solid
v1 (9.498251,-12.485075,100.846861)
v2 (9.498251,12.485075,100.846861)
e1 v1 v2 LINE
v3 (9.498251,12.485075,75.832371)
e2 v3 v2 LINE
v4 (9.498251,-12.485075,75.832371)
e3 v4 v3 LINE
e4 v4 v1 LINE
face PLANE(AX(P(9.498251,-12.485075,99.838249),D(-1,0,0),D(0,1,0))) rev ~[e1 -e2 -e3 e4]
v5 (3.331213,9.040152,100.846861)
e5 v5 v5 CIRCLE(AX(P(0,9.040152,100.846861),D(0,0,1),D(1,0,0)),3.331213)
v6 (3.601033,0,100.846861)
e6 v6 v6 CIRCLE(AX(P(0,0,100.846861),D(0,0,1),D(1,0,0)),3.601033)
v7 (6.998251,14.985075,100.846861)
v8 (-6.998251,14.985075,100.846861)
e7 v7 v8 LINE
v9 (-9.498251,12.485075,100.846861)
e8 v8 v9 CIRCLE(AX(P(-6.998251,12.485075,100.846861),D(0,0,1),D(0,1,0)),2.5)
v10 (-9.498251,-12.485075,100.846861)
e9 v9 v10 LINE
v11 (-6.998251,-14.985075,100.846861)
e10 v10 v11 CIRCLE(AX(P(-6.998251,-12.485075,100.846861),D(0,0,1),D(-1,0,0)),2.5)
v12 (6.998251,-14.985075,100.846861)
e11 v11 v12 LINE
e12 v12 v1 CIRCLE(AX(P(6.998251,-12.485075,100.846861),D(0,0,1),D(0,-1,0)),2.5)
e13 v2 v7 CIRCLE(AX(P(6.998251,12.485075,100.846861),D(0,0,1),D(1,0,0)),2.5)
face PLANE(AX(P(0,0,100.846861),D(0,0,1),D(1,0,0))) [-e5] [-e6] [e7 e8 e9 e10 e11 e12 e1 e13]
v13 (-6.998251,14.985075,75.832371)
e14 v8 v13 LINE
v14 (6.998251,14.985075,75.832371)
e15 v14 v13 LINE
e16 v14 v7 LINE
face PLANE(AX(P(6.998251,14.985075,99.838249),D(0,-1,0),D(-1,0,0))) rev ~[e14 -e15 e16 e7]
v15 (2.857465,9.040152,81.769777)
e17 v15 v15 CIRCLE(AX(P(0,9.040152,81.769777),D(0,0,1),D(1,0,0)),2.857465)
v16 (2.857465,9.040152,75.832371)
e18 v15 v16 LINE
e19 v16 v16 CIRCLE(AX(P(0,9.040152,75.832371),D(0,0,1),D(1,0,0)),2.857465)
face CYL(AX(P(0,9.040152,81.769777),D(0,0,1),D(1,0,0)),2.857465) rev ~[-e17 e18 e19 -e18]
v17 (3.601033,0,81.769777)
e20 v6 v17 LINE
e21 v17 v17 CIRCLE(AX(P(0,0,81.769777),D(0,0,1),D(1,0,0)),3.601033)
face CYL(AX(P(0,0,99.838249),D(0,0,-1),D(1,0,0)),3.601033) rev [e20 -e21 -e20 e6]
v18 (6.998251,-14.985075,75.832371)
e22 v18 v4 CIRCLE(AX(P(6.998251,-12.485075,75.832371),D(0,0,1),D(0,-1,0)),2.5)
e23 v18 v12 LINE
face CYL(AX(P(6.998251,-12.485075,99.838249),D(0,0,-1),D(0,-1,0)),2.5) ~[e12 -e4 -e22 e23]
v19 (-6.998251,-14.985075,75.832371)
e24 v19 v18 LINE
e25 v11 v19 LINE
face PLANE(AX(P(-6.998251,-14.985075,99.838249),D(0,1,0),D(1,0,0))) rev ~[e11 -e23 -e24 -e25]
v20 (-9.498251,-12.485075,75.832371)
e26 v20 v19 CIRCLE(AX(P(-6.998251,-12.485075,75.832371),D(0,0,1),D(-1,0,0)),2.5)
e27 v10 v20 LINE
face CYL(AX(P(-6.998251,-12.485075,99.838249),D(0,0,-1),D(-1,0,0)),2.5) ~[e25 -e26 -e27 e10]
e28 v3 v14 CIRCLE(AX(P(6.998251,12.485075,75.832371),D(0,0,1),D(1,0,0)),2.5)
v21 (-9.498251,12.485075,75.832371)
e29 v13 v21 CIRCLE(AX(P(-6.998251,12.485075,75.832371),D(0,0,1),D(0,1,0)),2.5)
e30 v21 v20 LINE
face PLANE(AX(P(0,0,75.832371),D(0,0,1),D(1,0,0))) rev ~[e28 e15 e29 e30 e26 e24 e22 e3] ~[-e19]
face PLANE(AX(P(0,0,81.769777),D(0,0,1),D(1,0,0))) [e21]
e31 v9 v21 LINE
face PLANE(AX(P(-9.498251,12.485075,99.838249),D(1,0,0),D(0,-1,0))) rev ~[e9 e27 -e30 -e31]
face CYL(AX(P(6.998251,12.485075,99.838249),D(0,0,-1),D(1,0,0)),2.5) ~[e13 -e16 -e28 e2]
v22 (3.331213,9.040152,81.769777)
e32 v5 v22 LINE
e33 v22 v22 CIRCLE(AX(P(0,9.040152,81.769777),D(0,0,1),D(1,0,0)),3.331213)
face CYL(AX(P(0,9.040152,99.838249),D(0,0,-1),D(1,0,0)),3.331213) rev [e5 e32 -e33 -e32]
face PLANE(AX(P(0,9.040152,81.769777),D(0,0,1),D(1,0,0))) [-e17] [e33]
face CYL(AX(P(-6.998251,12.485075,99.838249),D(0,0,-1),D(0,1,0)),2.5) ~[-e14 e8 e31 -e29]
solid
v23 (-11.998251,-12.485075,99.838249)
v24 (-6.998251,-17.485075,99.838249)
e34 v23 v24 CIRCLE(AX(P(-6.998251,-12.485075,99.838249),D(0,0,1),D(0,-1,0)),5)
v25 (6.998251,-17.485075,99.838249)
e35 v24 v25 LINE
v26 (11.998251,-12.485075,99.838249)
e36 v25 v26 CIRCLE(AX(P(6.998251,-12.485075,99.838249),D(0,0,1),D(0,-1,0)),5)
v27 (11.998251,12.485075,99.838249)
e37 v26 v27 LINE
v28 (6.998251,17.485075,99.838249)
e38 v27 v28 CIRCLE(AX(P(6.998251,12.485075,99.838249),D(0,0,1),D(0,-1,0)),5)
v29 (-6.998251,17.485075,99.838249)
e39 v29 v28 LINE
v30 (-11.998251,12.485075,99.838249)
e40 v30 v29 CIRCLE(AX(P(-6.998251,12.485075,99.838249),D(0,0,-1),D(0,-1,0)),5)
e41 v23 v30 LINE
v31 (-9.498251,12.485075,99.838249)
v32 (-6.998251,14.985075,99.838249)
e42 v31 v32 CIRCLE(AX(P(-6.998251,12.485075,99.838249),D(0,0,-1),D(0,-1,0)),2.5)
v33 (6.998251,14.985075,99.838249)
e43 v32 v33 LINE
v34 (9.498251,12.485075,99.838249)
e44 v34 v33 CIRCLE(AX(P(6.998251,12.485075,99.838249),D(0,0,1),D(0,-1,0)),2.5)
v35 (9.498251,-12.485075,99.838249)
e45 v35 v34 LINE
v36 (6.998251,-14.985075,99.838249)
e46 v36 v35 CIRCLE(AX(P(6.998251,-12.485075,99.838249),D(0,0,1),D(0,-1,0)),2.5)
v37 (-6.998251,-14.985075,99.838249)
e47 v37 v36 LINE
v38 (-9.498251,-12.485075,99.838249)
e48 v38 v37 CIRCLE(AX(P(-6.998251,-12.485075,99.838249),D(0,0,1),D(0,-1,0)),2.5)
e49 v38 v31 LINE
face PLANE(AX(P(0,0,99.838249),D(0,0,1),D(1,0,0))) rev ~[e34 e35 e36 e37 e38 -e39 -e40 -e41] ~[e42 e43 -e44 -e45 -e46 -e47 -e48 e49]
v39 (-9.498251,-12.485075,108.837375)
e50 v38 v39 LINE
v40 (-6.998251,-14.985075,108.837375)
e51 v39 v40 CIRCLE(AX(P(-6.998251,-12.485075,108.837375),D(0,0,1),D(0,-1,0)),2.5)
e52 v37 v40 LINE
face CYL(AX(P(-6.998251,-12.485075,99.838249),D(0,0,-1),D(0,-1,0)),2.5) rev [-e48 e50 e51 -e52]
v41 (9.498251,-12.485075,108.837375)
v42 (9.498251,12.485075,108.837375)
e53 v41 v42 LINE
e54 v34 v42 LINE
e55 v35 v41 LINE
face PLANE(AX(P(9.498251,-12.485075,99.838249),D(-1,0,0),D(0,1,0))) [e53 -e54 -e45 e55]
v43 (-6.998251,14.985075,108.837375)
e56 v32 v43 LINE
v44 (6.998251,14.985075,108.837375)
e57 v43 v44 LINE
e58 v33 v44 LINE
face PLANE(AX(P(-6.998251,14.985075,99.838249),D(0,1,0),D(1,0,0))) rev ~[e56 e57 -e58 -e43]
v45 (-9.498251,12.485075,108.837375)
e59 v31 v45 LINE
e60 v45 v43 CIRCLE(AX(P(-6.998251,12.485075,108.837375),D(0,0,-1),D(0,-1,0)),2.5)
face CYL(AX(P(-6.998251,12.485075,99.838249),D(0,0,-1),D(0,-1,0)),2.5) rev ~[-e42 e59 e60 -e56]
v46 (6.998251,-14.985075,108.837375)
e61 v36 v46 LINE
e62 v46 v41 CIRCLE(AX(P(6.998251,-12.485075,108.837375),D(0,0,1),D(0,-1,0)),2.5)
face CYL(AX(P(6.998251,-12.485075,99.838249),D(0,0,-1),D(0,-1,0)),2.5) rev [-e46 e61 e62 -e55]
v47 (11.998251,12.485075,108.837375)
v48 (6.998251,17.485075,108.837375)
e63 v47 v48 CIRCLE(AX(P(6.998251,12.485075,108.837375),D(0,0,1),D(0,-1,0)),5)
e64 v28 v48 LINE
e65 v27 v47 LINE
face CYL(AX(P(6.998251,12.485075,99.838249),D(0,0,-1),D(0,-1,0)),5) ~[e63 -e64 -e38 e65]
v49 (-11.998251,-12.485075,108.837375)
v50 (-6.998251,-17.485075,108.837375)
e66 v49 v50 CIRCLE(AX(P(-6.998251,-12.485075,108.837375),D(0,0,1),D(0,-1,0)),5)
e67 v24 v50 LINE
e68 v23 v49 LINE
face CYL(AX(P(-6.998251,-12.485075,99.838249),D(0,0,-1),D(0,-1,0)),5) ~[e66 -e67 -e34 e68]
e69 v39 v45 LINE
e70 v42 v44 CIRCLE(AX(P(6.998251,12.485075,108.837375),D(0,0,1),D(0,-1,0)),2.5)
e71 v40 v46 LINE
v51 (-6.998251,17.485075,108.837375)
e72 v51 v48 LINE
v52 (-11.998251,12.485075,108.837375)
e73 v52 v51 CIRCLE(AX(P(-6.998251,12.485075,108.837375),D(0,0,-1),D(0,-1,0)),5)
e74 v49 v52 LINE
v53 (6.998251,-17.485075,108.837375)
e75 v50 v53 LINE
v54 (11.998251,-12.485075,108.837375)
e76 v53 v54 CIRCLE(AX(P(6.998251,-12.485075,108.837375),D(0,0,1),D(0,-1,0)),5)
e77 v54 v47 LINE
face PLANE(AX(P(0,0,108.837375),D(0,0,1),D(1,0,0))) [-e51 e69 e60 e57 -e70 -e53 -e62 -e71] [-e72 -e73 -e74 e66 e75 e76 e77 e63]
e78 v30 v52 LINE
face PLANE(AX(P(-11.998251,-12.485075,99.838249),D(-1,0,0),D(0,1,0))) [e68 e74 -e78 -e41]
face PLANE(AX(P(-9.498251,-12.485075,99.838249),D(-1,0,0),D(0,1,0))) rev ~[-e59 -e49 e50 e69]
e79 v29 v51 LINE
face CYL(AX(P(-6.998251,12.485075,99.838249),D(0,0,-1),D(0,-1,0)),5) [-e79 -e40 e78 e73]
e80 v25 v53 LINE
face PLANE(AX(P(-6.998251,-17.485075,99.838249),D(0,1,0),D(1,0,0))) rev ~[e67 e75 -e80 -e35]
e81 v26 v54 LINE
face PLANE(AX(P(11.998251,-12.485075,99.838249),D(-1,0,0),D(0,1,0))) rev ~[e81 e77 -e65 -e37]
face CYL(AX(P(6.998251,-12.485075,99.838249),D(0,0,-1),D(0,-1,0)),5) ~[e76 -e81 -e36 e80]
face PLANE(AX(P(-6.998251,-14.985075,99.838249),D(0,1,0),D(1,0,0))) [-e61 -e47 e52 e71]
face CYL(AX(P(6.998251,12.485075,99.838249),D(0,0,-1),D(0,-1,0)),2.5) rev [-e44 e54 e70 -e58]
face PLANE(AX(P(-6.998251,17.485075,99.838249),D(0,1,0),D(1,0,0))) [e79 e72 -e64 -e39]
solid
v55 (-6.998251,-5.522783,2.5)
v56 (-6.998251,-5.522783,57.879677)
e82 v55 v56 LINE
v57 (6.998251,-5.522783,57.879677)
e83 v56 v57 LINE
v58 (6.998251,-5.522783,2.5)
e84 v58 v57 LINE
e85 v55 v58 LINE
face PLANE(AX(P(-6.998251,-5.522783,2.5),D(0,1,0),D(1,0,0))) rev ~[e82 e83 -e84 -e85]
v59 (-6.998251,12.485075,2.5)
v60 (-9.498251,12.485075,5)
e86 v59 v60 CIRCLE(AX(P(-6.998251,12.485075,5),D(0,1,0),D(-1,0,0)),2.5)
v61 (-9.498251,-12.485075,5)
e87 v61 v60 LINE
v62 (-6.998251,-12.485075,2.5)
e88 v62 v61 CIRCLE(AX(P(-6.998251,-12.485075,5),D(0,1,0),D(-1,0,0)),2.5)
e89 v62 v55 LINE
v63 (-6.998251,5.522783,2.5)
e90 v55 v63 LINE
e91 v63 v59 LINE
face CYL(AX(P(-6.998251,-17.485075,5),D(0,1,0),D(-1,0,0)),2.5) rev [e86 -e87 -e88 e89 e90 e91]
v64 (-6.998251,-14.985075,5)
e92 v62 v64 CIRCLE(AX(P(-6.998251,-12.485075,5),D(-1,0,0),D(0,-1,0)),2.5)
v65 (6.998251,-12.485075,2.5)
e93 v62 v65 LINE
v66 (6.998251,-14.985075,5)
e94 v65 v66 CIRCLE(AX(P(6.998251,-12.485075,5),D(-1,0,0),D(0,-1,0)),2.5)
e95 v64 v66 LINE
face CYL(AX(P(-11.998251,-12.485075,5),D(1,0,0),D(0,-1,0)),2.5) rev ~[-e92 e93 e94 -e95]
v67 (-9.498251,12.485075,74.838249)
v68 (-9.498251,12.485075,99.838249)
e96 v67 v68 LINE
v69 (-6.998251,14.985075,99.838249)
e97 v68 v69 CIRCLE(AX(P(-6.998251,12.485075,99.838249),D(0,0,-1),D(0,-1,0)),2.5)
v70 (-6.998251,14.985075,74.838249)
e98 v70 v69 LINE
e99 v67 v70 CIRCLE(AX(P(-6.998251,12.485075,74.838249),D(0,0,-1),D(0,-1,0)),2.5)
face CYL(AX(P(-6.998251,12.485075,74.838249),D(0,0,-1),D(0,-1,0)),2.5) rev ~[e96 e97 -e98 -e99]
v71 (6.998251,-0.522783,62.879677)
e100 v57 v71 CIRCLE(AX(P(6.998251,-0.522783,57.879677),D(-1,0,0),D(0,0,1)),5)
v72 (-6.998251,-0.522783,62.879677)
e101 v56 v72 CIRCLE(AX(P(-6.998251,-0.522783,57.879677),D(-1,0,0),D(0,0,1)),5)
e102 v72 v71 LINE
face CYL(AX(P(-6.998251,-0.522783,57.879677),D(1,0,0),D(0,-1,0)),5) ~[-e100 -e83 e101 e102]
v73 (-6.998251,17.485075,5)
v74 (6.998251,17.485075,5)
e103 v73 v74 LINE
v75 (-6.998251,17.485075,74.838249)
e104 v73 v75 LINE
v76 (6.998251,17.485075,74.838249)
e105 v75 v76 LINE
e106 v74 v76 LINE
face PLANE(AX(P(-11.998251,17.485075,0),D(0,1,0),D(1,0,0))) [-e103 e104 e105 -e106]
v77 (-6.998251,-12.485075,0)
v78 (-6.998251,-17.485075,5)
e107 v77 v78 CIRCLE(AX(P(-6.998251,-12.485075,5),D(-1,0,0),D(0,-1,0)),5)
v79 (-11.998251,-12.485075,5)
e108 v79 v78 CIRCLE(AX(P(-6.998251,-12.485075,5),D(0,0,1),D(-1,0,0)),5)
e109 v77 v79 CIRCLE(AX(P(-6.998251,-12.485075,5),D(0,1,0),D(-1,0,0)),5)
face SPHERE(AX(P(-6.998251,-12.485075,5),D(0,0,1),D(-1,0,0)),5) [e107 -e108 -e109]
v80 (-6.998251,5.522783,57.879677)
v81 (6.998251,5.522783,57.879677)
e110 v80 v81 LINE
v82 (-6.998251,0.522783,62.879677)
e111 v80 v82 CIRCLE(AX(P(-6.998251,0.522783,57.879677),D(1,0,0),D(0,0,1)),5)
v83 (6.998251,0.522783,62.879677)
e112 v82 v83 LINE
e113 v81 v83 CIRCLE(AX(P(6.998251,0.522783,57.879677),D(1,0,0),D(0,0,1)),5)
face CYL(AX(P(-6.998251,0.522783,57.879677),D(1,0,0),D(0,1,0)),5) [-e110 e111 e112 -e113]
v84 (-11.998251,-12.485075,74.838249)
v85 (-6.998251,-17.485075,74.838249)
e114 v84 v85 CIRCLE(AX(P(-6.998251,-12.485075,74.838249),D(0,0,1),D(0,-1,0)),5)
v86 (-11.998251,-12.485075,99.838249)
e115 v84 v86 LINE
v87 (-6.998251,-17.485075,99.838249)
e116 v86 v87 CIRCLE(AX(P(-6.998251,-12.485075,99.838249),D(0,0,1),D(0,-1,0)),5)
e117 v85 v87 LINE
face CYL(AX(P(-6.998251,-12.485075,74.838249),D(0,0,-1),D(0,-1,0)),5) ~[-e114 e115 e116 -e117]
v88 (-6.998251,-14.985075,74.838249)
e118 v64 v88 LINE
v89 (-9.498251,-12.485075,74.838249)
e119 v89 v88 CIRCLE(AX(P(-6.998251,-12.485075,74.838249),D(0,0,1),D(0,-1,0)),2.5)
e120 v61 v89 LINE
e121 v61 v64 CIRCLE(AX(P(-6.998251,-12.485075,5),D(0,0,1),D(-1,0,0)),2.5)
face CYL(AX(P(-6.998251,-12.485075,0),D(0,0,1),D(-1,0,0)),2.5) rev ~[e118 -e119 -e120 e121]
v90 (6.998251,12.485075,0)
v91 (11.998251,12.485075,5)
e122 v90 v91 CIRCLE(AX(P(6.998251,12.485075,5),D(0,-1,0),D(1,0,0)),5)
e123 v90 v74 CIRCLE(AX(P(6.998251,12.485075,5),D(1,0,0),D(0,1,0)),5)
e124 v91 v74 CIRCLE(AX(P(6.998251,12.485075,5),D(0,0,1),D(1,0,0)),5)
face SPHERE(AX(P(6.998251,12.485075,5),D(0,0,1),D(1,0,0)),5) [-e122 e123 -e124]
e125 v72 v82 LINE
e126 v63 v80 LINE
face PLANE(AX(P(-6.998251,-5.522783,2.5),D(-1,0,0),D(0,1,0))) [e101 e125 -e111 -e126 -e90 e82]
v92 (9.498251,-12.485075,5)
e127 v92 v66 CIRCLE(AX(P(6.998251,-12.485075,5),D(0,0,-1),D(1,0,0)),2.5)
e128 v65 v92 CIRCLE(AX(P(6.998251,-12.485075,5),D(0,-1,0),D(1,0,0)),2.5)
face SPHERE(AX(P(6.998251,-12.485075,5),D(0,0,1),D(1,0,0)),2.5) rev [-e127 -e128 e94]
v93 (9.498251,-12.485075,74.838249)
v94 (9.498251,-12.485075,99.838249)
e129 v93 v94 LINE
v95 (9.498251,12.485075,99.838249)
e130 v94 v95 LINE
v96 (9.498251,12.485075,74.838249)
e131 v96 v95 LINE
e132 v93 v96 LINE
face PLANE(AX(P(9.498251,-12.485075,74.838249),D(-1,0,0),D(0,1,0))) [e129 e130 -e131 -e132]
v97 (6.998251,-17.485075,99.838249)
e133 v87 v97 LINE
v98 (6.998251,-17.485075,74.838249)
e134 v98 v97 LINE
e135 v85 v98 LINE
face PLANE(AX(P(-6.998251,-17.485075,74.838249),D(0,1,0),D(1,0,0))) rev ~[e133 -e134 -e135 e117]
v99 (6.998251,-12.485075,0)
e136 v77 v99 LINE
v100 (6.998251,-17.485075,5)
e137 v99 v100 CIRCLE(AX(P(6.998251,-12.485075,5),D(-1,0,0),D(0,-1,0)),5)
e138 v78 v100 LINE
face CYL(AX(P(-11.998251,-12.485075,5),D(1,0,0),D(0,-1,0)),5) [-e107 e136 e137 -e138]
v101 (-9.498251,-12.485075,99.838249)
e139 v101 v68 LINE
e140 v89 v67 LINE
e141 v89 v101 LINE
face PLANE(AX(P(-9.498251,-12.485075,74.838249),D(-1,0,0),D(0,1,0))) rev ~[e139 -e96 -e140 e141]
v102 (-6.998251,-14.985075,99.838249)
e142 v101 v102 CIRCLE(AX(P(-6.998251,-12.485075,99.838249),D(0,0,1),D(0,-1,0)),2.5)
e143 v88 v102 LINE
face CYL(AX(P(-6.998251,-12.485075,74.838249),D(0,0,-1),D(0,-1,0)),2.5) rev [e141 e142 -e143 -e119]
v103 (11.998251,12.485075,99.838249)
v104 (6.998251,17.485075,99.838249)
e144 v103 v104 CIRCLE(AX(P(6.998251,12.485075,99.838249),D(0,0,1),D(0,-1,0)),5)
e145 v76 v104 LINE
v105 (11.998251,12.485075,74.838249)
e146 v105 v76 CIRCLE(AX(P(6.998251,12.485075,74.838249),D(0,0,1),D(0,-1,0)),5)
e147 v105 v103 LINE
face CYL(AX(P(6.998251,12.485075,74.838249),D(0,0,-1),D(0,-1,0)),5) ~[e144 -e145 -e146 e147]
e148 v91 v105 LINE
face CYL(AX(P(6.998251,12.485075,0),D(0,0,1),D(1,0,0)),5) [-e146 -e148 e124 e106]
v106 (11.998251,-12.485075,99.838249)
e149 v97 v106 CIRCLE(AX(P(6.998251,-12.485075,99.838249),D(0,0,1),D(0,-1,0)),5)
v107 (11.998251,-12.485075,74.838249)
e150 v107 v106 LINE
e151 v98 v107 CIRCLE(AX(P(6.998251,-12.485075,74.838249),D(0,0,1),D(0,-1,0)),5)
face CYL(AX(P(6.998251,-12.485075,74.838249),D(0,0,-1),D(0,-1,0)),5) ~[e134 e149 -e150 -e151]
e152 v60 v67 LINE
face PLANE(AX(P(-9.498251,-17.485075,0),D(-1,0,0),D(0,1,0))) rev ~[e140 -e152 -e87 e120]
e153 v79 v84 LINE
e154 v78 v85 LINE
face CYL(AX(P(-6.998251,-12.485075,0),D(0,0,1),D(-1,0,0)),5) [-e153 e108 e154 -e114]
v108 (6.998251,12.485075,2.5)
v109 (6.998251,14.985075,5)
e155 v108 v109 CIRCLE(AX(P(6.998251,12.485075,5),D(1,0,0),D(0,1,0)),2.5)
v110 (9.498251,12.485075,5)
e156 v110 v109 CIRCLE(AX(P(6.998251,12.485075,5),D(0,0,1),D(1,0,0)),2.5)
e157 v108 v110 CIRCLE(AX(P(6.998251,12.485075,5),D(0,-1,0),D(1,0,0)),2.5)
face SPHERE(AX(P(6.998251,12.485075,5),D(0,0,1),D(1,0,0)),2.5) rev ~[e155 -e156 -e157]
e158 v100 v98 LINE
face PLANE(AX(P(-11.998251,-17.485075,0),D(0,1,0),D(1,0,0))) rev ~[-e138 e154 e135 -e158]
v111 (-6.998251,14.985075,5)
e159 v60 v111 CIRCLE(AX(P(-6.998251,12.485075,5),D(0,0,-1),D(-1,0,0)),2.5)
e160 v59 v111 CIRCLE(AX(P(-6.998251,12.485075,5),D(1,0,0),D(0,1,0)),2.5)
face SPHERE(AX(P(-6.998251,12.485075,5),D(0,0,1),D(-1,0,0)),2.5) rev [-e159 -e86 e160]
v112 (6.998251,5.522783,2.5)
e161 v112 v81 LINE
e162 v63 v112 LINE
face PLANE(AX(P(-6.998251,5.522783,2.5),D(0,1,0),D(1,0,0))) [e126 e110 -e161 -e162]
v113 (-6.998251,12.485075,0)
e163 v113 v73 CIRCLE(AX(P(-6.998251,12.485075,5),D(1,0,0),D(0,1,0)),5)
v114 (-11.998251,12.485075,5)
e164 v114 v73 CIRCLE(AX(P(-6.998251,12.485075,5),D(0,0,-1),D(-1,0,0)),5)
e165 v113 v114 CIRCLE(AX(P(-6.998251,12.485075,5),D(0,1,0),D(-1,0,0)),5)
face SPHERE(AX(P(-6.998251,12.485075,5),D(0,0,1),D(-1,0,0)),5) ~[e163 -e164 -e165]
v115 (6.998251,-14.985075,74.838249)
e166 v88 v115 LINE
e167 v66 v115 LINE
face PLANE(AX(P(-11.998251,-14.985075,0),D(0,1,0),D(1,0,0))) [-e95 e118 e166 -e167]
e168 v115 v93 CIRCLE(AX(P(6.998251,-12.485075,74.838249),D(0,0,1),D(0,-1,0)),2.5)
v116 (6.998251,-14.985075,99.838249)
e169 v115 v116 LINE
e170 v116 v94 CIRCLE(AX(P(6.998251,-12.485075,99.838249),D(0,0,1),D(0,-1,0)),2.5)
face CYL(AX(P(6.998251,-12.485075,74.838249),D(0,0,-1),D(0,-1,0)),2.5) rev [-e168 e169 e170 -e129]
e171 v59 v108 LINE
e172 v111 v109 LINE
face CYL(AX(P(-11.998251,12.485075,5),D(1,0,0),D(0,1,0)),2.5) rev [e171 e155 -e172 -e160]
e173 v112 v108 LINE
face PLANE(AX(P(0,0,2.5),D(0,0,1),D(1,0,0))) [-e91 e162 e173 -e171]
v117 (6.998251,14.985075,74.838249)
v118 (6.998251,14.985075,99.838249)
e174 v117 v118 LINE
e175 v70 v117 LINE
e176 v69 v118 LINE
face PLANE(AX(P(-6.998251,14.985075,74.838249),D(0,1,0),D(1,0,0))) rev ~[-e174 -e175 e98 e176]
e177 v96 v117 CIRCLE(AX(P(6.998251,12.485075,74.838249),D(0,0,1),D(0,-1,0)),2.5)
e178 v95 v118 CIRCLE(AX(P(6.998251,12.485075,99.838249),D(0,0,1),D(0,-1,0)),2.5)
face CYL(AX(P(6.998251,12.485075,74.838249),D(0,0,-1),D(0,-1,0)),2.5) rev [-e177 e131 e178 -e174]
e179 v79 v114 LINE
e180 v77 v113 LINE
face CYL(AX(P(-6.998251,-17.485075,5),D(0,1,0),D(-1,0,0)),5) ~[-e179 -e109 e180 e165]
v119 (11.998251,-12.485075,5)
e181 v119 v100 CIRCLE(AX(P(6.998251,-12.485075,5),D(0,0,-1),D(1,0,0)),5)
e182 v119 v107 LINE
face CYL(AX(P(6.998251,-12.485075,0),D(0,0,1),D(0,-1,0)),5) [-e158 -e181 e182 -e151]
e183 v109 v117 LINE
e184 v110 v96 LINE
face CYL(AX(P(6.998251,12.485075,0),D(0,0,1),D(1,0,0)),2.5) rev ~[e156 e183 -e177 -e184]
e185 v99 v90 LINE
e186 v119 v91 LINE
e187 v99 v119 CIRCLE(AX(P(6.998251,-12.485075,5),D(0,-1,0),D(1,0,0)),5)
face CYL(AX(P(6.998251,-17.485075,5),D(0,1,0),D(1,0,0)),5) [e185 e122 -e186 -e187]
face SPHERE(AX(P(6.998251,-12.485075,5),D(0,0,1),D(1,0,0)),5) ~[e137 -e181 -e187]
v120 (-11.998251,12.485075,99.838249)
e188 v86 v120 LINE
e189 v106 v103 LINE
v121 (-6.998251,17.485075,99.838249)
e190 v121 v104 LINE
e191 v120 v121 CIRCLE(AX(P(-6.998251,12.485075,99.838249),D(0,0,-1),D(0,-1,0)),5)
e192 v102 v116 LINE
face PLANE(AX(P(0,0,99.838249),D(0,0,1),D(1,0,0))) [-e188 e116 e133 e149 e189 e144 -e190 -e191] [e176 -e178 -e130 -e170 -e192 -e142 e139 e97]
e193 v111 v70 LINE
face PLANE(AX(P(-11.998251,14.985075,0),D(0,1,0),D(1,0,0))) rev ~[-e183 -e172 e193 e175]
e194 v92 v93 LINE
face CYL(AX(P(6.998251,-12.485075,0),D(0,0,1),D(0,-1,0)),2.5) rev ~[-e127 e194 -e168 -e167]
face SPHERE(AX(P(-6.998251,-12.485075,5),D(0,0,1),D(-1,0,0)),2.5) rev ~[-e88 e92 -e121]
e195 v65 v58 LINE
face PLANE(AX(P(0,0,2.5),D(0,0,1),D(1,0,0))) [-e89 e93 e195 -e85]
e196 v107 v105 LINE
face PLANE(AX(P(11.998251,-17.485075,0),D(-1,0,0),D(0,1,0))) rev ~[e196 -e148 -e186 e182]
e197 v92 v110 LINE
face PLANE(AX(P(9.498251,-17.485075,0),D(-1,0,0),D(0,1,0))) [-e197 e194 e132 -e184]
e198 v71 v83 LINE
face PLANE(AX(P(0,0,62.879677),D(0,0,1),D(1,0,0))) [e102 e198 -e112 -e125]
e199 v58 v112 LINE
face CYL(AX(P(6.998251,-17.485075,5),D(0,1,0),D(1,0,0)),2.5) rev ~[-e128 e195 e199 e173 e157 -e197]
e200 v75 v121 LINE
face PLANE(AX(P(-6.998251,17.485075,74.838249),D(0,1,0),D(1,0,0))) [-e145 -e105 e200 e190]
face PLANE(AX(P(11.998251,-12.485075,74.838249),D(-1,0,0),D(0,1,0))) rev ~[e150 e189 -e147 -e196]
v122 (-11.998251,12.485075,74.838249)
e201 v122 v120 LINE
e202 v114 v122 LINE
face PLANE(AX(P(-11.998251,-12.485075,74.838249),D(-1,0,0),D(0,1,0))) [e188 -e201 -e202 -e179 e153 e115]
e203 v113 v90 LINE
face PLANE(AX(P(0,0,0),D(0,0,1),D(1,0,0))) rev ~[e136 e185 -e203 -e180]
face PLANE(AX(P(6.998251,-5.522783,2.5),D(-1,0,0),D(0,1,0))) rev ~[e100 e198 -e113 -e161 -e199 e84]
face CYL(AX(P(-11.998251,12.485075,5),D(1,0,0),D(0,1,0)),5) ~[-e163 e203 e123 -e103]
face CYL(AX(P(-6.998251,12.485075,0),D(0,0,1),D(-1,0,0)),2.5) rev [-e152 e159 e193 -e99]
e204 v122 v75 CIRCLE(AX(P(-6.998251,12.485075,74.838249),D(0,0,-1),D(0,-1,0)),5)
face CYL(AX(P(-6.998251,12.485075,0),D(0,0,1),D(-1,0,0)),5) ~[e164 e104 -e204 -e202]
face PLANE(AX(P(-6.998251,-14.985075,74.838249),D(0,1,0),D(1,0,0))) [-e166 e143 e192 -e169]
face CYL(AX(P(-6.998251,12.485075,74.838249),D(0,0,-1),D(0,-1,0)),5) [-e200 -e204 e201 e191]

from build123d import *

# Parameters (mm, degrees)
F0_W      = 23.996502161
F0_H      = 34.9701493979
F1_DEPTH  = 74.8382490128
F2_R      = 5
F3_T      = -2.5
F4_W      = 13.996502161
F4_H      = 11.0455658287
F5_DEPTH  = 60.3796765208
F6_R      = 5
F7_DEPTH  = 25
F9_DEPTH  = 24.0058777854
F10_R     = 3.3312129282
F10_R_2   = 3.6010333326
F11_DEPTH = 18.0684719235
F12_R     = 2.8574653166
F13_DEPTH = 25
F14_DEPTH = 1.0086121038
F15_DEPTH = 8.999126032


with BuildPart() as f1:
    # F0 (on Top) → F1 (new body)
    with BuildSketch(Plane.XY):
        Rectangle(F0_W, F0_H)
    extrude(amount=F1_DEPTH)

    # F2
    f2_edges = [f1.edges().sort_by_distance(p)[0] for p in [
        (11.998251, -17.485075, 37.419125),
        (11.998251, 17.485075, 37.419125),
        (-11.998251, 17.485075, 37.419125),
        (-11.998251, -17.485075, 37.419125),
        (-11.998251, 0, 0),
        (11.998251, 0, 0),
        (0, 17.485075, 0),
        (0, -17.485075, 0),
    ]]
    fillet(f2_edges, radius=F2_R)

    # F3
    f3_openings = [f1.faces().sort_by_distance(p)[0] for p in [
        (0, 0, 74.838249),
    ]]
    offset(amount=F3_T, openings=f3_openings)

    # F4 (on face) → F5 (join)
    with BuildSketch(Plane.XY.offset(2.5)):
        Rectangle(F4_W, F4_H)
    extrude(amount=F5_DEPTH)

    # F6
    f6_edges = [f1.edges().sort_by_distance(p)[0] for p in [
        (0, -5.522783, 62.879677),
        (0, 5.522783, 62.879677),
    ]]
    fillet(f6_edges, radius=F6_R)

    # F7 (add): a face of the model
    f7_faces = [f1.faces().sort_by_distance(p)[0] for p in [
        (0, -17.0609587402, 74.8382490128),
    ]]
    extrude(f7_faces, amount=F7_DEPTH)


with BuildPart() as f9:
    # F8 (on face) → F9 (new body)
    with BuildSketch(Plane.XY.offset(99.8382490128)):
        with BuildLine():
            Line((-6.9982510805, -14.9850746989), (6.9982510805, -14.9850746989))
            ThreePointArc((6.9982510805, -14.9850746989), (8.7660180335, -14.2528416519), (9.4982510805, -12.4850746989))
            Line((9.4982510805, -12.4850746989), (9.4982510805, 12.4850746989))
            ThreePointArc((9.4982510805, 12.4850746989), (8.7660180335, 14.2528416519), (6.9982510805, 14.9850746989))
            Line((6.9982510805, 14.9850746989), (-6.9982510805, 14.9850746989))
            ThreePointArc((-6.9982510805, 14.9850746989), (-8.7660180335, 14.2528416519), (-9.4982510805, 12.4850746989))
            Line((-9.4982510805, 12.4850746989), (-9.4982510805, -12.4850746989))
            ThreePointArc((-9.4982510805, -12.4850746989), (-8.7660180335, -14.2528416519), (-6.9982510805, -14.9850746989))
        make_face()
    extrude(amount=-F9_DEPTH)

    # F10 (on face) → F11 (cut)
    with BuildSketch(Plane.XY.offset(99.8382490128)):
        with Locations((0, 9.0401517227)):
            Circle(F10_R)
        Circle(F10_R_2)
    extrude(amount=-F11_DEPTH, mode=Mode.SUBTRACT)

    # F12 (on face) → F13 (cut)
    with BuildSketch(Plane.XY.offset(81.7697770894)):
        with Locations((0, 9.0401517227)):
            Circle(F12_R)
    extrude(amount=-F13_DEPTH, mode=Mode.SUBTRACT)

    # F14 (add): a face of the model
    f14_faces = [f9.faces().sort_by_distance(p)[0] for p in [
        (0, -14.6302399558, 99.8382490128),
    ]]
    extrude(f14_faces, amount=F14_DEPTH)


with BuildPart() as f15:
    # F15 (new): a face of the model
    f15_faces = [f1.part.faces().sort_by_distance(p)[0] for p in [
        (0, -17.0609587402, 99.8382490128),
    ]]
    extrude(f15_faces, amount=F15_DEPTH)


solid = Compound([f1.part, f9.part, f15.part])
